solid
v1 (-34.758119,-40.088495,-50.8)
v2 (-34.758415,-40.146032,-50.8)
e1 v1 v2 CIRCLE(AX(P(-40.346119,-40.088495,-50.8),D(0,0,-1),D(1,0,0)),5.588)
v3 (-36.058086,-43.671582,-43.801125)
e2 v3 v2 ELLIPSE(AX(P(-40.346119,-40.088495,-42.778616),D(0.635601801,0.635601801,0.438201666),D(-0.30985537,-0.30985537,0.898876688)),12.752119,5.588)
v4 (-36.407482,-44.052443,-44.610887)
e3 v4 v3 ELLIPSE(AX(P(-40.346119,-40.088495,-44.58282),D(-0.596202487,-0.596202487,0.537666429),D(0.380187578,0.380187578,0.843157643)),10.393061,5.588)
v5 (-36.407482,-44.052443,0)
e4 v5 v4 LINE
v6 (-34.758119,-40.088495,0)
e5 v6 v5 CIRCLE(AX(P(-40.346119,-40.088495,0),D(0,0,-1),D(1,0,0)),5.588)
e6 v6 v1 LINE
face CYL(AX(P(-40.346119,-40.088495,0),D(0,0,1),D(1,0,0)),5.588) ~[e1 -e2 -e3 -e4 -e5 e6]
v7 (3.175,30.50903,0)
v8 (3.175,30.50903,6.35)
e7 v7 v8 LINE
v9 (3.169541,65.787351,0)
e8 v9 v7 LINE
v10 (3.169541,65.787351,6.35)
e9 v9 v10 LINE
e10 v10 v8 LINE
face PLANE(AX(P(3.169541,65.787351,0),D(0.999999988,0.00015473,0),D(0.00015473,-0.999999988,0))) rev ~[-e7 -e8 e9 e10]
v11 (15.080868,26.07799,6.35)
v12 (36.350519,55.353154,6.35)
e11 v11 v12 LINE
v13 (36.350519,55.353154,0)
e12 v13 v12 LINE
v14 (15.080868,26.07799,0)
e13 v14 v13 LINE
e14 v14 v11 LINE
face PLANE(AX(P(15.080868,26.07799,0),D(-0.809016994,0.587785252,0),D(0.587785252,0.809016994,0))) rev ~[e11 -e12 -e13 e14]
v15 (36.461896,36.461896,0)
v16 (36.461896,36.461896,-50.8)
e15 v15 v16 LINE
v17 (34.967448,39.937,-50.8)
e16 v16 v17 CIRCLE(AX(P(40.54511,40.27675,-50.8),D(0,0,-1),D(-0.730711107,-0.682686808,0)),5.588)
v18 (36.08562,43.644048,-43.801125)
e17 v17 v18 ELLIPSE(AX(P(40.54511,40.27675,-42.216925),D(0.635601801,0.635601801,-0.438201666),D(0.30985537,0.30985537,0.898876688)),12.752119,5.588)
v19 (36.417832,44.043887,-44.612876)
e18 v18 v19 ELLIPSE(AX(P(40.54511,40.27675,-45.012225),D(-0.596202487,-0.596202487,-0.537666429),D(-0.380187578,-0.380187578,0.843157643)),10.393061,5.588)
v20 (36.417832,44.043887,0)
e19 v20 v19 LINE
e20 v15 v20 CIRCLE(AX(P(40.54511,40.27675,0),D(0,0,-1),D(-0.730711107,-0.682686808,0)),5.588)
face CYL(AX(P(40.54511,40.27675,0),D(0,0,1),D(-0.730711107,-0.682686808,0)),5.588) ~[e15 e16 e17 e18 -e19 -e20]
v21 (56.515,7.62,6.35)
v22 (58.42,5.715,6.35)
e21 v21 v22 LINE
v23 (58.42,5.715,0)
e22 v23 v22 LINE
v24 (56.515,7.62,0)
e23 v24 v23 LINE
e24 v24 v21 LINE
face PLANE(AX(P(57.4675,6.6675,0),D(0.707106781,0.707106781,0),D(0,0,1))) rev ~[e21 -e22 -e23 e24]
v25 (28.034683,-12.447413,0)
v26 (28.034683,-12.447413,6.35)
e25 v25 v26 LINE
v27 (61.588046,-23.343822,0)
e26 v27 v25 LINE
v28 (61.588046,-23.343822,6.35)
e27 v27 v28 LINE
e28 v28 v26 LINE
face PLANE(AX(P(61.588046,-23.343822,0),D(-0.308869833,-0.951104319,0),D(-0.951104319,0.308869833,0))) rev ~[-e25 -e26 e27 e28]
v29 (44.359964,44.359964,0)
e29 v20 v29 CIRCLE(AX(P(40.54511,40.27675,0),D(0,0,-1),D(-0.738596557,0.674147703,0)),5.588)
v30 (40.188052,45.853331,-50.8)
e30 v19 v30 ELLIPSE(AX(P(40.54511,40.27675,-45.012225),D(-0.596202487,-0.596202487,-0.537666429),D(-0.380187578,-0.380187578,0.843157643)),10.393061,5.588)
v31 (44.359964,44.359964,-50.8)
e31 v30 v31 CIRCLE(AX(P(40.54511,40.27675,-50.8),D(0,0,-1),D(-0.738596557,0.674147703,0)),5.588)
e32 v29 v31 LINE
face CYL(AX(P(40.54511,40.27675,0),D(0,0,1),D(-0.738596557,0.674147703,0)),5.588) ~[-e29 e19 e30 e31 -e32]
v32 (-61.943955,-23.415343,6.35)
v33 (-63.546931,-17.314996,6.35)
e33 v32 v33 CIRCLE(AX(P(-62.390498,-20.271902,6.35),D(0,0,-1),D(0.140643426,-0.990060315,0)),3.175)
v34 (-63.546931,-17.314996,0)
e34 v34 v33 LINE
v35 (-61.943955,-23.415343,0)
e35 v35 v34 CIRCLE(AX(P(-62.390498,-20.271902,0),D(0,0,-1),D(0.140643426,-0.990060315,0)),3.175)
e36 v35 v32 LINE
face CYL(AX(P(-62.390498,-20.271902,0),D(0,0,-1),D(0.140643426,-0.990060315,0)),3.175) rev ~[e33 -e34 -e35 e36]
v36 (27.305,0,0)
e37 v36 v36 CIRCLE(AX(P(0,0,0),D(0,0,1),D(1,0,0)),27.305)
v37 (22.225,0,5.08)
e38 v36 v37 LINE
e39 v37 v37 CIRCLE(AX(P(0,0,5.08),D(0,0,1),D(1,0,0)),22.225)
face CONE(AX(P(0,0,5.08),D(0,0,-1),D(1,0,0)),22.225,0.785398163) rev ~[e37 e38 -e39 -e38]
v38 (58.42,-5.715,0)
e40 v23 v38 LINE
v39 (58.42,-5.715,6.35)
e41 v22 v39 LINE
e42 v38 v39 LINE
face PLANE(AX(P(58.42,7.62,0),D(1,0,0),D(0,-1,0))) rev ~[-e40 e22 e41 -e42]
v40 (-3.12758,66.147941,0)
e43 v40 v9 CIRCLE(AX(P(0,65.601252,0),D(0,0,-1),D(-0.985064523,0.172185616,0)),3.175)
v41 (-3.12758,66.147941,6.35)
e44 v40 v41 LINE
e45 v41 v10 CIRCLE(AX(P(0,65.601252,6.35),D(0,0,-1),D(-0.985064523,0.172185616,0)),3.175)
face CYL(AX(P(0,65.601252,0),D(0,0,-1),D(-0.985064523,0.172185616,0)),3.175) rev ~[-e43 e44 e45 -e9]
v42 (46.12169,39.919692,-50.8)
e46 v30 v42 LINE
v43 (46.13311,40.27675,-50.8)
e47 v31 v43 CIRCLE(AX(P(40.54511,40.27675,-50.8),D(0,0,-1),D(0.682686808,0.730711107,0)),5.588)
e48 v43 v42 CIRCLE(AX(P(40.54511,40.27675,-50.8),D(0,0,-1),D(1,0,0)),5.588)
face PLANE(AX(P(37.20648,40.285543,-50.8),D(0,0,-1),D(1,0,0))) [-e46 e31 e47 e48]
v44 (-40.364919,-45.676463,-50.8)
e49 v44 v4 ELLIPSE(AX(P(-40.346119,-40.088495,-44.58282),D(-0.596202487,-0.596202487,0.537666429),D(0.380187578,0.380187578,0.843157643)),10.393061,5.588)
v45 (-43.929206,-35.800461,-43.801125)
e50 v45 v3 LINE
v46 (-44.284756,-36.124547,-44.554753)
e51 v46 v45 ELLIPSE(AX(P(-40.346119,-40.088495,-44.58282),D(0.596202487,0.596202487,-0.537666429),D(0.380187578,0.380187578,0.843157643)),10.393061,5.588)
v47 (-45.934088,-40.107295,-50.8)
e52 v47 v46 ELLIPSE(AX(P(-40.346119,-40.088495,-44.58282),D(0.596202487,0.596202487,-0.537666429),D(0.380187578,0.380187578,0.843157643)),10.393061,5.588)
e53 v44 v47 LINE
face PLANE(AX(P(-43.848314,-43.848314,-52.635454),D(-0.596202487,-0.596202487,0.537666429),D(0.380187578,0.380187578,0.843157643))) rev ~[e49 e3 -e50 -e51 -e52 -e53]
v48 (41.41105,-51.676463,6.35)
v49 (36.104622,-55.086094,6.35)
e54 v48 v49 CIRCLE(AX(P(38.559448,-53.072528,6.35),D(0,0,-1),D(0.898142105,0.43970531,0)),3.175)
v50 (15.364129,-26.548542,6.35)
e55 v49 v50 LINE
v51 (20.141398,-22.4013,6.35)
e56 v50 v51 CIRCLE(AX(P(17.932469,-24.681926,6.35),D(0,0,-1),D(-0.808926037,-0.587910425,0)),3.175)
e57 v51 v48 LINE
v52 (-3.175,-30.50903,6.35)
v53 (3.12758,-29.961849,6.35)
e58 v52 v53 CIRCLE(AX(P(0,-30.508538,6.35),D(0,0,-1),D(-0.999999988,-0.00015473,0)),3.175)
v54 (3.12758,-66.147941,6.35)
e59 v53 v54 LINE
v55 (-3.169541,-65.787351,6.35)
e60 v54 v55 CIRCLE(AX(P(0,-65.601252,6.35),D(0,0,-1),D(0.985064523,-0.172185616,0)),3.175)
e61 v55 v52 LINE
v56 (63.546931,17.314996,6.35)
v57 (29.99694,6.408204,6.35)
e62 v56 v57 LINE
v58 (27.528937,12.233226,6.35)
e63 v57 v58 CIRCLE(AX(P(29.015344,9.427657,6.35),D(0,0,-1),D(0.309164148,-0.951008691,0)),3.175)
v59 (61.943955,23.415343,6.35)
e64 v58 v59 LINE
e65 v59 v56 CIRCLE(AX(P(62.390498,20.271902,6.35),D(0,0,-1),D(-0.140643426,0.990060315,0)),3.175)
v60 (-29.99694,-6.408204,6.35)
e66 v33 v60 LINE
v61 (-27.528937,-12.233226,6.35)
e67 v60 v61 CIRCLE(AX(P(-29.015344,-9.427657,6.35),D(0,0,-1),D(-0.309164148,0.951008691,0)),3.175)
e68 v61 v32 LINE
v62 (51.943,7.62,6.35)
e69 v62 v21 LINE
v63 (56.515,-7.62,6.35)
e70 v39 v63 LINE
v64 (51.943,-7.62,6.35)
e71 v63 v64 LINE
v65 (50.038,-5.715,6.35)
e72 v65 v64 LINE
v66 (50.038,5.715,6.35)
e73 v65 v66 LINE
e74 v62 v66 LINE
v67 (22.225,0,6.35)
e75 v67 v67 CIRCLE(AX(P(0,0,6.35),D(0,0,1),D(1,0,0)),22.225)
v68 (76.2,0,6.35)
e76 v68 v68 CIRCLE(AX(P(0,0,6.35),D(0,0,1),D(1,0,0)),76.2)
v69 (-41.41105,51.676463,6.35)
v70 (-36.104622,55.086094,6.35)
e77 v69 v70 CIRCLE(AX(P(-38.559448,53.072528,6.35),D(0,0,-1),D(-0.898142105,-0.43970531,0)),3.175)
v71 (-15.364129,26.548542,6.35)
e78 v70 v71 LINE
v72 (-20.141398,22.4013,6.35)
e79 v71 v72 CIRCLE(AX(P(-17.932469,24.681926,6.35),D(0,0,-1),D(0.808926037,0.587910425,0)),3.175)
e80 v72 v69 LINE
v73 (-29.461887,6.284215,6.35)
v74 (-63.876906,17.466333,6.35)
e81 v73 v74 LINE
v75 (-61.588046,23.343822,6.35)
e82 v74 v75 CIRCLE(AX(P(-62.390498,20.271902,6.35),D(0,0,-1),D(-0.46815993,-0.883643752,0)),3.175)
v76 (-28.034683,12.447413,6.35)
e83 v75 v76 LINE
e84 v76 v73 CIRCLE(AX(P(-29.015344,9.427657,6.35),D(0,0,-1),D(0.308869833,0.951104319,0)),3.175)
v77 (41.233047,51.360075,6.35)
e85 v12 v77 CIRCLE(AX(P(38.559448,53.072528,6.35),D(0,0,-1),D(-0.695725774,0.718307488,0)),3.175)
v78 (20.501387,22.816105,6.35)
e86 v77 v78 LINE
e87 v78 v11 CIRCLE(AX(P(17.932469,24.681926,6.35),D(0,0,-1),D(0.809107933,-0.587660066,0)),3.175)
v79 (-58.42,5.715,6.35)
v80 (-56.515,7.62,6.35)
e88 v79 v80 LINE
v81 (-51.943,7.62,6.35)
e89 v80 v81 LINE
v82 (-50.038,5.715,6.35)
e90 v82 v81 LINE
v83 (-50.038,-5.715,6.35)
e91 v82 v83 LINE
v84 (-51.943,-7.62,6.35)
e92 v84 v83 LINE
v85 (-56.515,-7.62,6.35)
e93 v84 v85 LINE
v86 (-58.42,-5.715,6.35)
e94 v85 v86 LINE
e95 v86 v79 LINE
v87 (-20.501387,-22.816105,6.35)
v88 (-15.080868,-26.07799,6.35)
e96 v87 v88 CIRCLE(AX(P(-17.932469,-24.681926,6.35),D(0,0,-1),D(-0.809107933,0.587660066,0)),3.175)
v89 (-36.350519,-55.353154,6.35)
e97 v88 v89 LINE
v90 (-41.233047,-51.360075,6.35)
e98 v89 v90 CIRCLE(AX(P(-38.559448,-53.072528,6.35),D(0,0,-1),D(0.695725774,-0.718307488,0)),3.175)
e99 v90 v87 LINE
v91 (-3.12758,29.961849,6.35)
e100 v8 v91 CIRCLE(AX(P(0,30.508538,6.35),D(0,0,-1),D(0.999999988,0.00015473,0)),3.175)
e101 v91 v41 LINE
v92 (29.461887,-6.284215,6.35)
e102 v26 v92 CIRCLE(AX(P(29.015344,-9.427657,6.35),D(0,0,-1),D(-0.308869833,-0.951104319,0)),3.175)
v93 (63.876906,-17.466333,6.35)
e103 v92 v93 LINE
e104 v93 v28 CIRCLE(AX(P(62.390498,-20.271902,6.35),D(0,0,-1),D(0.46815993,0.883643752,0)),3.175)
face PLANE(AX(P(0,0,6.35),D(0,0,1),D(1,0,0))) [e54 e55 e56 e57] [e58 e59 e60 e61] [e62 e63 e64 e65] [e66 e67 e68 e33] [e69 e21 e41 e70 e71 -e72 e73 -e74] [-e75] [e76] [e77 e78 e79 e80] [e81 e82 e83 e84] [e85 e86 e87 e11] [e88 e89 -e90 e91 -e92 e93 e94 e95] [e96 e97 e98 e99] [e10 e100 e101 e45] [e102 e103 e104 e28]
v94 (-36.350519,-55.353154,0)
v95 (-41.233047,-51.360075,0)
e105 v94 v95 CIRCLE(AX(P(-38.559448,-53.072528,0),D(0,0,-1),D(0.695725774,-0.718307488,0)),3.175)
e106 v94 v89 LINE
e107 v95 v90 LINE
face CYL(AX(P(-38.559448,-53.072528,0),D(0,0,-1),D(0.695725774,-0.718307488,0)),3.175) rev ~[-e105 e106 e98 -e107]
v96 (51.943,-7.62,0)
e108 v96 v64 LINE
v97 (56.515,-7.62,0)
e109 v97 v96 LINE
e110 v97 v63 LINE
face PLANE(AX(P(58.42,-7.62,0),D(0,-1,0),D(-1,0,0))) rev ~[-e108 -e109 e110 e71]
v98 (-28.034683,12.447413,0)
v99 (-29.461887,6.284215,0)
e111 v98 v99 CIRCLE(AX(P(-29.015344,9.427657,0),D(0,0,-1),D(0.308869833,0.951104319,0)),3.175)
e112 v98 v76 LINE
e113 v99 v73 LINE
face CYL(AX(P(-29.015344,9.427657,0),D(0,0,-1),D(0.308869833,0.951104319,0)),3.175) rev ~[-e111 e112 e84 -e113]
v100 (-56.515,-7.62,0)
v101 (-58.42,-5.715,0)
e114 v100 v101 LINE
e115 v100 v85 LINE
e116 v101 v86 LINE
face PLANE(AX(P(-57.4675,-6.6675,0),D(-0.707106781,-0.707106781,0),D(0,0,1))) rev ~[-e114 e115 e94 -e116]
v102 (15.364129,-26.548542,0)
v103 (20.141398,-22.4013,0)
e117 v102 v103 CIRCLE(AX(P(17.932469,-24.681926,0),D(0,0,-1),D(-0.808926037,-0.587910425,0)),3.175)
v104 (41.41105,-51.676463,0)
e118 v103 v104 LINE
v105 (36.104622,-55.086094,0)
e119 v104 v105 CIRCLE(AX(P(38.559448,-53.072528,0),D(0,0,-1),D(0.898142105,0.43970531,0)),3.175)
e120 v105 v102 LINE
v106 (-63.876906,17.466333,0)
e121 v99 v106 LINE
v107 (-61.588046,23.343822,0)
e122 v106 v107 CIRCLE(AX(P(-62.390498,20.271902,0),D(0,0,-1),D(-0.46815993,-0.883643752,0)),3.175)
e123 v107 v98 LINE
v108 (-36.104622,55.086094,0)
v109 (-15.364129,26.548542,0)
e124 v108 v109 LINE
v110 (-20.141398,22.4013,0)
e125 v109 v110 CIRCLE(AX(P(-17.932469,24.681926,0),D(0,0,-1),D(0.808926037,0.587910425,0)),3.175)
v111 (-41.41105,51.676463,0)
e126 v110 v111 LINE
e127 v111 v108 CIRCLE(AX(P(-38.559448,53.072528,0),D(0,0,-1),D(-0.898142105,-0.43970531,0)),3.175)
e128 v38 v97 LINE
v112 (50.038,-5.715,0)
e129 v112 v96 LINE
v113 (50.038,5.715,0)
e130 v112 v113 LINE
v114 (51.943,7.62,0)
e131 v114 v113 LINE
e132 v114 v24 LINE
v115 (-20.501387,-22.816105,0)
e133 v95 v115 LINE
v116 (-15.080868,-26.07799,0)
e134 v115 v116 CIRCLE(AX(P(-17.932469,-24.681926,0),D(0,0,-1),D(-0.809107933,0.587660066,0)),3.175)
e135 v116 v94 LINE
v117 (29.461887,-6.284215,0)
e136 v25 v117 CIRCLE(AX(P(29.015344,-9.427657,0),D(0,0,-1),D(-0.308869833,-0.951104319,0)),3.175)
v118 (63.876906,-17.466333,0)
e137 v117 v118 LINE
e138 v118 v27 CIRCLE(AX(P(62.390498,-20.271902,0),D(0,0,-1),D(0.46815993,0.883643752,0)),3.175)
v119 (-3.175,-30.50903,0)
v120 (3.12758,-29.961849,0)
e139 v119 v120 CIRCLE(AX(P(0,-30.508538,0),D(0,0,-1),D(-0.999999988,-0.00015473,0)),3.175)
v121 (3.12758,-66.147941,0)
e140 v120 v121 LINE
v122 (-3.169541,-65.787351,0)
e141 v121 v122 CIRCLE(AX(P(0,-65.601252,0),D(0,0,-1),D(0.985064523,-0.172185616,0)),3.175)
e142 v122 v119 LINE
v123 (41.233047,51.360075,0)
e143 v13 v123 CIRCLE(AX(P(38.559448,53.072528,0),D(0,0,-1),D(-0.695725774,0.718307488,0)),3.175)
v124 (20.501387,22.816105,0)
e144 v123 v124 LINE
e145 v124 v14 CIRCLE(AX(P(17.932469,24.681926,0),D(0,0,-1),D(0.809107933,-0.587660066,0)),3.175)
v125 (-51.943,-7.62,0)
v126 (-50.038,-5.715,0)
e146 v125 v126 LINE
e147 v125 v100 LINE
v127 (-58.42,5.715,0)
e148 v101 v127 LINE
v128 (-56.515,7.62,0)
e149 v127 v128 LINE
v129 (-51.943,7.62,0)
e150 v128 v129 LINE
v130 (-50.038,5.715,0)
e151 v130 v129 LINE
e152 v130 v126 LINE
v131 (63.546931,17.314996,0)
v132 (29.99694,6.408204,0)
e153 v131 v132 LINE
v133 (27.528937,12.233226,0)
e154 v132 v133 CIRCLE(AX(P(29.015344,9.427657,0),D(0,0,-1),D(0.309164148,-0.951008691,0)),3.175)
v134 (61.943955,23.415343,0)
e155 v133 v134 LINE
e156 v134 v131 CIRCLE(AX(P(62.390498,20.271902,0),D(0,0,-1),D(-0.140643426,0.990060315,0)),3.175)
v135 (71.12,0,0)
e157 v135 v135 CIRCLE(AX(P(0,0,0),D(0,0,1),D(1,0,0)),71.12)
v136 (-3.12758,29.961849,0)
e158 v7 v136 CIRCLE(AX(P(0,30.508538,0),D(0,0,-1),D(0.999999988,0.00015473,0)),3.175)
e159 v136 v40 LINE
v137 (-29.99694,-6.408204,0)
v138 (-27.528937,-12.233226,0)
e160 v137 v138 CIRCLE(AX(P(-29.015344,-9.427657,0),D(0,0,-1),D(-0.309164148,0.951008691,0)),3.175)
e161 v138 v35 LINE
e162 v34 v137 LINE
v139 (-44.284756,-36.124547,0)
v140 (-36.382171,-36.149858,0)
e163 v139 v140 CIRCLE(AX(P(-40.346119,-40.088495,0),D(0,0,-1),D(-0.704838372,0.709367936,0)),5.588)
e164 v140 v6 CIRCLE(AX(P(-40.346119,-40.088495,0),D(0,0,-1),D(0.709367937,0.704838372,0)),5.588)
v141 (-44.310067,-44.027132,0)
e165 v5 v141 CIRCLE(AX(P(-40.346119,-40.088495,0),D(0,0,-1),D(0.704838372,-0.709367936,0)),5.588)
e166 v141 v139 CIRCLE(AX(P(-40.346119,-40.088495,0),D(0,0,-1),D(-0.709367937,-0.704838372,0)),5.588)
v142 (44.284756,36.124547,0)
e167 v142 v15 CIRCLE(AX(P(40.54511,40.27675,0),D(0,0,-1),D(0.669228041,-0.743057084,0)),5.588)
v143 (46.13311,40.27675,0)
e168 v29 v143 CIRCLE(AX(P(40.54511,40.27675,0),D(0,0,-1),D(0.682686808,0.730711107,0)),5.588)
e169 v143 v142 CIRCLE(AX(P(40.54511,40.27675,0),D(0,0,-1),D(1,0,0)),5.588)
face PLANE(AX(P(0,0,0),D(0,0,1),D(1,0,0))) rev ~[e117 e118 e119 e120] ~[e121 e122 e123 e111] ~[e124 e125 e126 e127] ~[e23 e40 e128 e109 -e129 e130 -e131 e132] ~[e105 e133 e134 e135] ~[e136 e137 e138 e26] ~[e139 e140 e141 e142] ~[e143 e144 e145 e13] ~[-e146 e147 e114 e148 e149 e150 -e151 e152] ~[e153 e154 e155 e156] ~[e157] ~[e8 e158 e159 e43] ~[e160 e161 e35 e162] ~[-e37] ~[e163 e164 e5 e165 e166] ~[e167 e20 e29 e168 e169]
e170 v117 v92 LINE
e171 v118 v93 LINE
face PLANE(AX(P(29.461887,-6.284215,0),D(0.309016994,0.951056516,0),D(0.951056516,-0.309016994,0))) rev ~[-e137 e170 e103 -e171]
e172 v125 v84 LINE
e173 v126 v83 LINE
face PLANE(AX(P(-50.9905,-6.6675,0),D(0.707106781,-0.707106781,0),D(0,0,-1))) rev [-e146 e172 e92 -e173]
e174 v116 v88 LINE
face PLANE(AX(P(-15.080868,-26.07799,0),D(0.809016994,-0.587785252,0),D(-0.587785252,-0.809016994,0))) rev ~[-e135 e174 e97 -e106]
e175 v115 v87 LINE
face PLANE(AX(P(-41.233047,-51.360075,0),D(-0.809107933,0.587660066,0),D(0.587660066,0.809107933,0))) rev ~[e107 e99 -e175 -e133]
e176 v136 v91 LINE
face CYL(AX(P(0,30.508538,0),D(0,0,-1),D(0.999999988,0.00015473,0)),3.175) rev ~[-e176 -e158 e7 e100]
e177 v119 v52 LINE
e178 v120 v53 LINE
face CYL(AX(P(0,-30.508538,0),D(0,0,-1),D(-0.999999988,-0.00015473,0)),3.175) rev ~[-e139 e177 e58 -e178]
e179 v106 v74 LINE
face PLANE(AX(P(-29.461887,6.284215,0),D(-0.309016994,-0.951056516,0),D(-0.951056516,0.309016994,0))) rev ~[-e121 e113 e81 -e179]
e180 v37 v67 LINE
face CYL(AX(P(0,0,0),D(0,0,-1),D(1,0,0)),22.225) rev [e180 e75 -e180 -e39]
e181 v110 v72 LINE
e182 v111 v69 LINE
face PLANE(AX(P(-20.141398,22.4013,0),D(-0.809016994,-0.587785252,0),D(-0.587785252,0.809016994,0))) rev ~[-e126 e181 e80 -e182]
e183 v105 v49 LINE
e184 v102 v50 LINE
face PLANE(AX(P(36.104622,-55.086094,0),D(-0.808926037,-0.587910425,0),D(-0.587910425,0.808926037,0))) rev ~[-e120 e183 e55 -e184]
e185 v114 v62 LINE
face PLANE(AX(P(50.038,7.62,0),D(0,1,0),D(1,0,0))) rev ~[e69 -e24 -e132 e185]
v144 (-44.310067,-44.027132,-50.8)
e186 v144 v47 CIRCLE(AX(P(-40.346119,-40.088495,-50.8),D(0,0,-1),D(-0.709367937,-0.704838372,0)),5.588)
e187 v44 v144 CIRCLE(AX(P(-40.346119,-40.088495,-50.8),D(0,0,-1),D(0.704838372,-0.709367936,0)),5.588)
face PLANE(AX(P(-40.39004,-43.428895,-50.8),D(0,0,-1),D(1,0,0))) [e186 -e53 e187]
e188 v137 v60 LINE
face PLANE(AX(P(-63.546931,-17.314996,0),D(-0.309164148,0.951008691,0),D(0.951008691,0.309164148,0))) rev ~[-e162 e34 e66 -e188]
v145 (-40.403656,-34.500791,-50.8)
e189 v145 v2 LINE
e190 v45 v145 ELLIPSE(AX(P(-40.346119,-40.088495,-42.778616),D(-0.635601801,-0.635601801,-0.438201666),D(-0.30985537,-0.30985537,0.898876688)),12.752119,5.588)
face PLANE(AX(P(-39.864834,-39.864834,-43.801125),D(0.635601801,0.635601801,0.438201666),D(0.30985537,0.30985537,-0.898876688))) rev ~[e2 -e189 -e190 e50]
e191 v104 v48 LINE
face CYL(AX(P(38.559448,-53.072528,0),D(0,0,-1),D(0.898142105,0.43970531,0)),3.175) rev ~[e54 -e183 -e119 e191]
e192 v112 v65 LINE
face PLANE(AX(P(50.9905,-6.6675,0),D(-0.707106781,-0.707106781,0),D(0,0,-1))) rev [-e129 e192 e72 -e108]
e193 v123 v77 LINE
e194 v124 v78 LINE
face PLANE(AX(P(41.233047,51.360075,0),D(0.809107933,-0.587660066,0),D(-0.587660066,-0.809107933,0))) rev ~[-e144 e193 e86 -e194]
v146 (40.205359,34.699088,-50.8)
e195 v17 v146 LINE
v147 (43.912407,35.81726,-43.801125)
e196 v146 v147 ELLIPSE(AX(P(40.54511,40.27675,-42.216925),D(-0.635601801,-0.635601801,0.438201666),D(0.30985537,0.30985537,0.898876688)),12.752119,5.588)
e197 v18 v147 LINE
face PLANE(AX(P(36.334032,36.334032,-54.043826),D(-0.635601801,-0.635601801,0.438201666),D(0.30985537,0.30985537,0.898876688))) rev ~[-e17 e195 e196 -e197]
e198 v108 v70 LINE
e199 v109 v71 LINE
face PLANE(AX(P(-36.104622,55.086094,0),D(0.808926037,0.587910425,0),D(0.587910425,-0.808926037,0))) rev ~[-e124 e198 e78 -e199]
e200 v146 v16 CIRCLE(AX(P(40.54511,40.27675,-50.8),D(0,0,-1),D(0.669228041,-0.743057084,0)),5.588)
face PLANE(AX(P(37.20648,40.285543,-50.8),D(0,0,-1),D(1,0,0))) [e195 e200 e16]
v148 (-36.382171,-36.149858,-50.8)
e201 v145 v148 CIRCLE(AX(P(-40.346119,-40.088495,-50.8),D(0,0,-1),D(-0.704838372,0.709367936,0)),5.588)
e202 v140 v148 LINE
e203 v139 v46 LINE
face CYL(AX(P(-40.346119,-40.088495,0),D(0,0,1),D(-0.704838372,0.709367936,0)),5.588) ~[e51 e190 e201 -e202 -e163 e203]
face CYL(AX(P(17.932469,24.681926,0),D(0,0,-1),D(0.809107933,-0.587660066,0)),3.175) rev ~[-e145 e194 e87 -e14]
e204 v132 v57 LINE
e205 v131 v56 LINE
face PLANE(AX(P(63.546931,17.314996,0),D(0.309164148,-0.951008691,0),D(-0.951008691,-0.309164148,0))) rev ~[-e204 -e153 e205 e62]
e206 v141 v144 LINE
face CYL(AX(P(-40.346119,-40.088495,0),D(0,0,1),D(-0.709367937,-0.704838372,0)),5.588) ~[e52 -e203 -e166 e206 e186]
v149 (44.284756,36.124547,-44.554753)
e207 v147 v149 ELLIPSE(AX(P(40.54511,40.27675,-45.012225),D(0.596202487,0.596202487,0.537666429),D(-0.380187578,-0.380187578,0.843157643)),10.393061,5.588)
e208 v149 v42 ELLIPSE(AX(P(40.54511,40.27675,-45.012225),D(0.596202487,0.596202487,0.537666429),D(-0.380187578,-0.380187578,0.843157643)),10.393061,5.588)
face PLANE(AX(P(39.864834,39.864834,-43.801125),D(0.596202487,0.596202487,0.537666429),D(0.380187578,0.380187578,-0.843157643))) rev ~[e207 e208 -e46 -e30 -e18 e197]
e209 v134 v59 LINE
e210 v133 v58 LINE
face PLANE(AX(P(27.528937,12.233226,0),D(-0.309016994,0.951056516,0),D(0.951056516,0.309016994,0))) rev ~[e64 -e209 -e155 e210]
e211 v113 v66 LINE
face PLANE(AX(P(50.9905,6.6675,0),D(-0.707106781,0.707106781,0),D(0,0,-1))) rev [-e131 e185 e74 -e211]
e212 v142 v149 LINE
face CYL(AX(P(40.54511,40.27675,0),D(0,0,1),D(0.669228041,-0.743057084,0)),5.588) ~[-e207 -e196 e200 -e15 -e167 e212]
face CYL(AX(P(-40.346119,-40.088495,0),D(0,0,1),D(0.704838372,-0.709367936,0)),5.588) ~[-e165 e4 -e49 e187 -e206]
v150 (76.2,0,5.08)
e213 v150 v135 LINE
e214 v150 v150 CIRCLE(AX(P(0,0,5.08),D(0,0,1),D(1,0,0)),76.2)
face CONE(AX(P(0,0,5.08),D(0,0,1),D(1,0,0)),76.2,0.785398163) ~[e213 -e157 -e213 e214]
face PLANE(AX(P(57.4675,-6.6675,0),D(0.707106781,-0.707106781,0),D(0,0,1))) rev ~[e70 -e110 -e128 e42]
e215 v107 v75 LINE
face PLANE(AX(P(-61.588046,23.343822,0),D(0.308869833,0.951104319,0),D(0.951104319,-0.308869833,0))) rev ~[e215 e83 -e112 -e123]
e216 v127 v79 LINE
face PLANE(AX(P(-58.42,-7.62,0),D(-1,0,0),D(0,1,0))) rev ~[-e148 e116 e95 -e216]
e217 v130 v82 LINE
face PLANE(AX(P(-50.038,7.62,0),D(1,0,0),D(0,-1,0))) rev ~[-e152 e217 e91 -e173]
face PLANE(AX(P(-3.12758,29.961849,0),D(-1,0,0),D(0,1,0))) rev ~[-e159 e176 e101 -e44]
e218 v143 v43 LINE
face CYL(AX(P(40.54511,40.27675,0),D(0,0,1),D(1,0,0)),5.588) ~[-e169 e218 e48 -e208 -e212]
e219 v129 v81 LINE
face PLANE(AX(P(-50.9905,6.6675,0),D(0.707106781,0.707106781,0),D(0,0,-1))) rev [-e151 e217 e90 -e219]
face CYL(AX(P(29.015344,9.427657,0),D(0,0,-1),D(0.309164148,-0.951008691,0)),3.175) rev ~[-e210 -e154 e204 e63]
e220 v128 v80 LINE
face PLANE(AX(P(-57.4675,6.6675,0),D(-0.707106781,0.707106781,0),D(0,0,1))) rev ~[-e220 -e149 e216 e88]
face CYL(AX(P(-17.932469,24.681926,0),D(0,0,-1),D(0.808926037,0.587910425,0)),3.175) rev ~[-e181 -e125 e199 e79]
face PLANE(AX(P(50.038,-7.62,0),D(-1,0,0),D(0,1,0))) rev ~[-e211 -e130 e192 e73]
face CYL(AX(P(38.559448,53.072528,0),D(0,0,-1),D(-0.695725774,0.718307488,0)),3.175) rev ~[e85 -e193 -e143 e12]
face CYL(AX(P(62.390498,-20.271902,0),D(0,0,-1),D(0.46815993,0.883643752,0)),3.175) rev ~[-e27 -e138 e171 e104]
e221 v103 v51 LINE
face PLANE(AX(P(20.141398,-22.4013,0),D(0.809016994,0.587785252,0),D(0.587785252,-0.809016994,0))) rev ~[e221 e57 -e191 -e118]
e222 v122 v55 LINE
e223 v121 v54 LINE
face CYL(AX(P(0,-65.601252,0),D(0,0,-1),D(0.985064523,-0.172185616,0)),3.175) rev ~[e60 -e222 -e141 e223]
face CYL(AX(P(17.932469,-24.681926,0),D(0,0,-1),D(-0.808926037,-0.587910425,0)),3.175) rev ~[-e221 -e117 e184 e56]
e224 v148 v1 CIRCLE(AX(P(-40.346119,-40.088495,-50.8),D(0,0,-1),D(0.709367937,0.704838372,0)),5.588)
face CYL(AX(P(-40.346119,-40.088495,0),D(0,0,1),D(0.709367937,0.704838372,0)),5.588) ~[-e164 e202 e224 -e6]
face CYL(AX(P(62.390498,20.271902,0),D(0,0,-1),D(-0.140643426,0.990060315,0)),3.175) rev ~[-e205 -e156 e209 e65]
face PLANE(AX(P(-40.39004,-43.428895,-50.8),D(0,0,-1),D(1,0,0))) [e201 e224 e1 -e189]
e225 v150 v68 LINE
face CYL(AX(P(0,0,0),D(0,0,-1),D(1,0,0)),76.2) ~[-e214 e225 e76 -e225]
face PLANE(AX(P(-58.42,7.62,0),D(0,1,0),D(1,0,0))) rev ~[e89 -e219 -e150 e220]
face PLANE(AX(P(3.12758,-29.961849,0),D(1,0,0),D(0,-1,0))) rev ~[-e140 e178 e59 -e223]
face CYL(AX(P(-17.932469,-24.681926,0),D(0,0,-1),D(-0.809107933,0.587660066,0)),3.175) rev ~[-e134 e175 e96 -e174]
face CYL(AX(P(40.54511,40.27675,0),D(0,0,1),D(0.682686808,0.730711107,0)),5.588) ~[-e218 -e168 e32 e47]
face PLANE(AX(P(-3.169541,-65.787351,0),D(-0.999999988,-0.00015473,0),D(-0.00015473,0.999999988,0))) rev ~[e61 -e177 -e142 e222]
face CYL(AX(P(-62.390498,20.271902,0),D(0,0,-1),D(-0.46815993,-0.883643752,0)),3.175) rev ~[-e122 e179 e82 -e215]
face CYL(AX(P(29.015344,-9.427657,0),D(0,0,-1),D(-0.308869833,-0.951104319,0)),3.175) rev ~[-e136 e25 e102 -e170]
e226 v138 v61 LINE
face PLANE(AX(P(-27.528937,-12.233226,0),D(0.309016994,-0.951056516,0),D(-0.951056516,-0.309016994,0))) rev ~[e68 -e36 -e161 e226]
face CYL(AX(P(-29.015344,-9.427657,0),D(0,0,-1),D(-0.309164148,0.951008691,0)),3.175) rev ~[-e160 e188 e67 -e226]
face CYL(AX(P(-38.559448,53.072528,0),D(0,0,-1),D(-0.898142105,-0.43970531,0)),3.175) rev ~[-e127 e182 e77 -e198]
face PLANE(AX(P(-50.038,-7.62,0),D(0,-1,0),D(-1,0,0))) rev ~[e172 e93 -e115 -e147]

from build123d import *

# Parameters (mm, degrees)
F0_R          = 22.225
F1_DEPTH      = 6.35
F2_SIZE       = 1.905
F4_DEPTH      = 50.8
F8_DEPTH      = 25.4
F8_DEPTH_BACK = 25.4
F9_SIZE       = 5.08
F10_SIZE      = 5.08


with BuildPart() as f1:
    # F0 (on Top) → F1 (new body)
    with BuildSketch(Plane.XY):
        with BuildLine():
            ThreePointArc((-76.2, 0), (0, -76.2), (76.2, 0))
            ThreePointArc((76.2, 0), (0, 76.2), (-76.2, 0))
        make_face()
        with BuildLine():
            ThreePointArc((-36.3505191374, -55.3531540115), (-40.5694607495, -55.5302656455), (-41.2330473061, -51.3600750337))
            Line((-41.2330473061, -51.3600750337), (-20.5013866713, -22.8161053906))
            ThreePointArc((-20.5013866713, -22.8161053906), (-16.2954133846, -21.961508124), (-15.0808678012, -26.0779904576))
            Line((-15.0808678012, -26.0779904576), (-36.3505191374, -55.3531540115))
        make_face(mode=Mode.SUBTRACT)
        with BuildLine():
            ThreePointArc((3.1275798593, -66.1479413497), (-0.1815119967, -68.7710593314), (-3.1695413391, -65.7873506482))
            Line((-3.1695413391, -65.7873506482), (-3.174999962, -30.5090297434))
            ThreePointArc((-3.174999962, -30.5090297434), (-0.2746157651, -27.3454369619), (3.1275798593, -29.9618491446))
            Line((3.1275798593, -29.9618491446), (3.1275798593, -66.1479413497))
        make_face(mode=Mode.SUBTRACT)
        with BuildLine():
            ThreePointArc((-61.9439553323, -23.4153432254), (-65.4612544013, -21.0787978873), (-63.546930662, -17.314996421))
            Line((-63.546930662, -17.314996421), (-29.9969404887, -6.4082042695))
            ThreePointArc((-29.9969404887, -6.4082042695), (-26.0919169519, -8.189029627), (-27.5289365415, -12.233225774))
            Line((-27.5289365415, -12.233225774), (-61.9439553323, -23.4153432254))
        make_face(mode=Mode.SUBTRACT)
        with BuildLine():
            ThreePointArc((41.4110496523, -51.6764633782), (40.2757681695, -55.743645795), (36.1046216907, -55.086094345))
            Line((36.1046216907, -55.086094345), (15.3641288185, -26.548541698))
            ThreePointArc((15.3641288185, -26.548541698), (15.8510757428, -22.2843383176), (20.1413983161, -22.4012998243))
            Line((20.1413983161, -22.4012998243), (41.4110496523, -51.6764633782))
        make_face(mode=Mode.SUBTRACT)
        with BuildLine():
            ThreePointArc((63.8769059879, -17.4663328146), (65.349073818, -21.4240542218), (61.5880463856, -23.3438223094))
            Line((61.5880463856, -23.3438223094), (28.0346825979, -12.4474130757))
            ThreePointArc((28.0346825979, -12.4474130757), (25.9221950752, -8.7113798527), (29.4618871971, -6.2842153632))
            Line((29.4618871971, -6.2842153632), (63.8769059879, -17.4663328146))
        make_face(mode=Mode.SUBTRACT)
        Polygon((-58.42, -7.62), (-58.42, 0), (-58.42, 7.62), (-50.038, 7.62), (-50.038, -7.62), align=None, mode=Mode.SUBTRACT)
        with BuildLine():
            ThreePointArc((-63.8769059879, 17.4663328146), (-65.349073818, 21.4240542218), (-61.5880463856, 23.3438223094))
            Line((-61.5880463856, 23.3438223094), (-28.0346825979, 12.4474130757))
            ThreePointArc((-28.0346825979, 12.4474130757), (-25.9221950752, 8.7113798527), (-29.4618871971, 6.2842153632))
            Line((-29.4618871971, 6.2842153632), (-63.8769059879, 17.4663328146))
        make_face(mode=Mode.SUBTRACT)
        with BuildLine():
            ThreePointArc((-41.4110496523, 51.6764633782), (-40.2757681695, 55.743645795), (-36.1046216907, 55.086094345))
            Line((-36.1046216907, 55.086094345), (-15.3641288185, 26.548541698))
            ThreePointArc((-15.3641288185, 26.548541698), (-15.8510757428, 22.2843383176), (-20.1413983161, 22.4012998243))
            Line((-20.1413983161, 22.4012998243), (-41.4110496523, 51.6764633782))
        make_face(mode=Mode.SUBTRACT)
        Circle(F0_R, mode=Mode.SUBTRACT)
        Polygon((58.42, 7.62), (58.42, 0), (58.42, -7.62), (50.038, -7.62), (50.038, 7.62), align=None, mode=Mode.SUBTRACT)
        with BuildLine():
            ThreePointArc((61.9439553323, 23.4153432254), (65.4612544013, 21.0787978873), (63.546930662, 17.314996421))
            Line((63.546930662, 17.314996421), (29.9969404887, 6.4082042695))
            ThreePointArc((29.9969404887, 6.4082042695), (26.0919169519, 8.189029627), (27.5289365415, 12.233225774))
            Line((27.5289365415, 12.233225774), (61.9439553323, 23.4153432254))
        make_face(mode=Mode.SUBTRACT)
        with BuildLine():
            ThreePointArc((3.174999962, 30.5090297434), (0.2746157651, 27.3454369619), (-3.1275798593, 29.9618491446))
            Line((-3.1275798593, 29.9618491446), (-3.1275798593, 66.1479413497))
            ThreePointArc((-3.1275798593, 66.1479413497), (0.1815119967, 68.7710593314), (3.1695413391, 65.7873506482))
            Line((3.1695413391, 65.7873506482), (3.174999962, 30.5090297434))
        make_face(mode=Mode.SUBTRACT)
        with BuildLine():
            ThreePointArc((36.3505191374, 55.3531540115), (40.5694607495, 55.5302656455), (41.2330473061, 51.3600750337))
            Line((41.2330473061, 51.3600750337), (20.5013866713, 22.8161053906))
            ThreePointArc((20.5013866713, 22.8161053906), (16.2954133846, 21.961508124), (15.0808678012, 26.0779904576))
            Line((15.0808678012, 26.0779904576), (36.3505191374, 55.3531540115))
        make_face(mode=Mode.SUBTRACT)
    extrude(amount=F1_DEPTH)

    # F2
    f2_edges = [f1.edges().sort_by_distance(p)[0] for p in [
        (58.42, 7.62, 3.175),
        (50.038, 7.62, 3.175),
        (58.42, -7.62, 3.175),
        (50.038, -7.62, 3.175),
        (-50.038, 7.62, 3.175),
        (-58.42, 7.62, 3.175),
        (-50.038, -7.62, 3.175),
        (-58.42, -7.62, 3.175),
    ]]
    chamfer(f2_edges, length=F2_SIZE)

    # F3 (on face) → F4 (join)
    with BuildSketch(Plane(origin=(0, 0, 0), x_dir=(1, 0, 0), z_dir=(0, 0, -1))):
        with BuildLine():
            ThreePointArc((-36.407482317, 44.0524429667), (-40.3640168655, 45.6764662753), (-44.310067169, 44.0271317603))
            Line((-44.310067169, 44.0271317603), (-40.5403775713, 40.2815129604))
            ThreePointArc((-40.5403775713, 40.2815129604), (-38.5201020718, 42.2175820764), (-36.407482317, 44.0524429667))
        make_face()
        with BuildLine():
            Line((-40.5403775713, 40.2815129604), (-36.3821711106, 36.1498581148))
            ThreePointArc((-36.3821711106, 36.1498581148), (-35.1800623463, 37.9583303415), (-34.7581191398, 40.0884949375))
            ThreePointArc((-34.7581191398, 40.0884949375), (-35.1869115182, 42.2351948973), (-36.407482317, 44.0524429667))
            ThreePointArc((-36.407482317, 44.0524429667), (-38.5201020718, 42.2175820764), (-40.5403775713, 40.2815129604))
        make_face()
        with BuildLine():
            Line((40.4111525448, -40.4111525448), (36.4618960058, -36.4618960058))
            ThreePointArc((36.4618960058, -36.4618960058), (34.9572040364, -40.2442749258), (36.4178321079, -44.0438872554))
            ThreePointArc((36.4178321079, -44.0438872554), (38.457410353, -42.2746979757), (40.4111525448, -40.4111525448))
        make_face()
        with BuildLine():
            ThreePointArc((36.4178321079, -44.0438872554), (40.3228976199, -45.8603299081), (44.359963556, -44.359963556))
            Line((44.359963556, -44.359963556), (40.4111525448, -40.4111525448))
            ThreePointArc((40.4111525448, -40.4111525448), (38.457410353, -42.2746979757), (36.4178321079, -44.0438872554))
        make_face()
        with BuildLine():
            ThreePointArc((-44.2847559626, 36.1245469084), (-40.3282214141, 34.5005235998), (-36.3821711106, 36.1498581148))
            Line((-36.3821711106, 36.1498581148), (-40.5403775713, 40.2815129604))
            ThreePointArc((-40.5403775713, 40.2815129604), (-42.4634656081, 38.248876958), (-44.2847559626, 36.1245469084))
        make_face()
        with BuildLine():
            Line((-40.5403775713, 40.2815129604), (-44.310067169, 44.0271317603))
            ThreePointArc((-44.310067169, 44.0271317603), (-45.9340904775, 40.0705972119), (-44.2847559626, 36.1245469084))
            ThreePointArc((-44.2847559626, 36.1245469084), (-42.4634656081, 38.248876958), (-40.5403775713, 40.2815129604))
        make_face()
        with BuildLine():
            ThreePointArc((46.1331096706, -40.2767498912), (45.6501506831, -38.004240208), (44.2847559626, -36.1245469084))
            ThreePointArc((44.2847559626, -36.1245469084), (42.4021576862, -38.3168308131), (40.4111525448, -40.4111525448))
            Line((40.4111525448, -40.4111525448), (44.359963556, -44.359963556))
            ThreePointArc((44.359963556, -44.359963556), (45.6706900042, -42.5025464327), (46.1331096706, -40.2767498912))
        make_face()
        with BuildLine():
            ThreePointArc((40.4111525448, -40.4111525448), (42.4021576862, -38.3168308131), (44.2847559626, -36.1245469084))
            ThreePointArc((44.2847559626, -36.1245469084), (40.3043593055, -34.6939384792), (36.4618960058, -36.4618960058))
            Line((36.4618960058, -36.4618960058), (40.4111525448, -40.4111525448))
        make_face()
    extrude(amount=F4_DEPTH)

    # F7 (on face) → F8 (cut, two sides)
    with BuildSketch(Plane(origin=(0, 0, 0), x_dir=(-0.7071067812, -0.7071067812, 0), z_dir=(-0.7071067812, 0.7071067812, 0))) as f8_sk:
        Polygon((62.0108805597, -54.0438257158), (62.0108805597, -52.6354536414), (56.3773885369, -43.801125139), (51.3840802014, -54.0438257158), align=None)
        Polygon((-51.3840802014, -54.0438257158), (-56.3773885369, -43.801125139), (-62.0108805597, -52.6354536414), (-62.0108805597, -54.0438257158), align=None)
    extrude(amount=-F8_DEPTH, mode=Mode.SUBTRACT)
    extrude(f8_sk.sketch, amount=F8_DEPTH_BACK, mode=Mode.SUBTRACT)

    # F9
    f9_edges = [f1.edges().sort_by_distance(p)[0] for p in [
        (-76.2, 0, 0),
    ]]
    chamfer(f9_edges, length=F9_SIZE)

    # F10
    f10_edges = [f1.edges().sort_by_distance(p)[0] for p in [
        (-22.225, 0, 0),
    ]]
    chamfer(f10_edges, length=F10_SIZE)


solid = f1.part
